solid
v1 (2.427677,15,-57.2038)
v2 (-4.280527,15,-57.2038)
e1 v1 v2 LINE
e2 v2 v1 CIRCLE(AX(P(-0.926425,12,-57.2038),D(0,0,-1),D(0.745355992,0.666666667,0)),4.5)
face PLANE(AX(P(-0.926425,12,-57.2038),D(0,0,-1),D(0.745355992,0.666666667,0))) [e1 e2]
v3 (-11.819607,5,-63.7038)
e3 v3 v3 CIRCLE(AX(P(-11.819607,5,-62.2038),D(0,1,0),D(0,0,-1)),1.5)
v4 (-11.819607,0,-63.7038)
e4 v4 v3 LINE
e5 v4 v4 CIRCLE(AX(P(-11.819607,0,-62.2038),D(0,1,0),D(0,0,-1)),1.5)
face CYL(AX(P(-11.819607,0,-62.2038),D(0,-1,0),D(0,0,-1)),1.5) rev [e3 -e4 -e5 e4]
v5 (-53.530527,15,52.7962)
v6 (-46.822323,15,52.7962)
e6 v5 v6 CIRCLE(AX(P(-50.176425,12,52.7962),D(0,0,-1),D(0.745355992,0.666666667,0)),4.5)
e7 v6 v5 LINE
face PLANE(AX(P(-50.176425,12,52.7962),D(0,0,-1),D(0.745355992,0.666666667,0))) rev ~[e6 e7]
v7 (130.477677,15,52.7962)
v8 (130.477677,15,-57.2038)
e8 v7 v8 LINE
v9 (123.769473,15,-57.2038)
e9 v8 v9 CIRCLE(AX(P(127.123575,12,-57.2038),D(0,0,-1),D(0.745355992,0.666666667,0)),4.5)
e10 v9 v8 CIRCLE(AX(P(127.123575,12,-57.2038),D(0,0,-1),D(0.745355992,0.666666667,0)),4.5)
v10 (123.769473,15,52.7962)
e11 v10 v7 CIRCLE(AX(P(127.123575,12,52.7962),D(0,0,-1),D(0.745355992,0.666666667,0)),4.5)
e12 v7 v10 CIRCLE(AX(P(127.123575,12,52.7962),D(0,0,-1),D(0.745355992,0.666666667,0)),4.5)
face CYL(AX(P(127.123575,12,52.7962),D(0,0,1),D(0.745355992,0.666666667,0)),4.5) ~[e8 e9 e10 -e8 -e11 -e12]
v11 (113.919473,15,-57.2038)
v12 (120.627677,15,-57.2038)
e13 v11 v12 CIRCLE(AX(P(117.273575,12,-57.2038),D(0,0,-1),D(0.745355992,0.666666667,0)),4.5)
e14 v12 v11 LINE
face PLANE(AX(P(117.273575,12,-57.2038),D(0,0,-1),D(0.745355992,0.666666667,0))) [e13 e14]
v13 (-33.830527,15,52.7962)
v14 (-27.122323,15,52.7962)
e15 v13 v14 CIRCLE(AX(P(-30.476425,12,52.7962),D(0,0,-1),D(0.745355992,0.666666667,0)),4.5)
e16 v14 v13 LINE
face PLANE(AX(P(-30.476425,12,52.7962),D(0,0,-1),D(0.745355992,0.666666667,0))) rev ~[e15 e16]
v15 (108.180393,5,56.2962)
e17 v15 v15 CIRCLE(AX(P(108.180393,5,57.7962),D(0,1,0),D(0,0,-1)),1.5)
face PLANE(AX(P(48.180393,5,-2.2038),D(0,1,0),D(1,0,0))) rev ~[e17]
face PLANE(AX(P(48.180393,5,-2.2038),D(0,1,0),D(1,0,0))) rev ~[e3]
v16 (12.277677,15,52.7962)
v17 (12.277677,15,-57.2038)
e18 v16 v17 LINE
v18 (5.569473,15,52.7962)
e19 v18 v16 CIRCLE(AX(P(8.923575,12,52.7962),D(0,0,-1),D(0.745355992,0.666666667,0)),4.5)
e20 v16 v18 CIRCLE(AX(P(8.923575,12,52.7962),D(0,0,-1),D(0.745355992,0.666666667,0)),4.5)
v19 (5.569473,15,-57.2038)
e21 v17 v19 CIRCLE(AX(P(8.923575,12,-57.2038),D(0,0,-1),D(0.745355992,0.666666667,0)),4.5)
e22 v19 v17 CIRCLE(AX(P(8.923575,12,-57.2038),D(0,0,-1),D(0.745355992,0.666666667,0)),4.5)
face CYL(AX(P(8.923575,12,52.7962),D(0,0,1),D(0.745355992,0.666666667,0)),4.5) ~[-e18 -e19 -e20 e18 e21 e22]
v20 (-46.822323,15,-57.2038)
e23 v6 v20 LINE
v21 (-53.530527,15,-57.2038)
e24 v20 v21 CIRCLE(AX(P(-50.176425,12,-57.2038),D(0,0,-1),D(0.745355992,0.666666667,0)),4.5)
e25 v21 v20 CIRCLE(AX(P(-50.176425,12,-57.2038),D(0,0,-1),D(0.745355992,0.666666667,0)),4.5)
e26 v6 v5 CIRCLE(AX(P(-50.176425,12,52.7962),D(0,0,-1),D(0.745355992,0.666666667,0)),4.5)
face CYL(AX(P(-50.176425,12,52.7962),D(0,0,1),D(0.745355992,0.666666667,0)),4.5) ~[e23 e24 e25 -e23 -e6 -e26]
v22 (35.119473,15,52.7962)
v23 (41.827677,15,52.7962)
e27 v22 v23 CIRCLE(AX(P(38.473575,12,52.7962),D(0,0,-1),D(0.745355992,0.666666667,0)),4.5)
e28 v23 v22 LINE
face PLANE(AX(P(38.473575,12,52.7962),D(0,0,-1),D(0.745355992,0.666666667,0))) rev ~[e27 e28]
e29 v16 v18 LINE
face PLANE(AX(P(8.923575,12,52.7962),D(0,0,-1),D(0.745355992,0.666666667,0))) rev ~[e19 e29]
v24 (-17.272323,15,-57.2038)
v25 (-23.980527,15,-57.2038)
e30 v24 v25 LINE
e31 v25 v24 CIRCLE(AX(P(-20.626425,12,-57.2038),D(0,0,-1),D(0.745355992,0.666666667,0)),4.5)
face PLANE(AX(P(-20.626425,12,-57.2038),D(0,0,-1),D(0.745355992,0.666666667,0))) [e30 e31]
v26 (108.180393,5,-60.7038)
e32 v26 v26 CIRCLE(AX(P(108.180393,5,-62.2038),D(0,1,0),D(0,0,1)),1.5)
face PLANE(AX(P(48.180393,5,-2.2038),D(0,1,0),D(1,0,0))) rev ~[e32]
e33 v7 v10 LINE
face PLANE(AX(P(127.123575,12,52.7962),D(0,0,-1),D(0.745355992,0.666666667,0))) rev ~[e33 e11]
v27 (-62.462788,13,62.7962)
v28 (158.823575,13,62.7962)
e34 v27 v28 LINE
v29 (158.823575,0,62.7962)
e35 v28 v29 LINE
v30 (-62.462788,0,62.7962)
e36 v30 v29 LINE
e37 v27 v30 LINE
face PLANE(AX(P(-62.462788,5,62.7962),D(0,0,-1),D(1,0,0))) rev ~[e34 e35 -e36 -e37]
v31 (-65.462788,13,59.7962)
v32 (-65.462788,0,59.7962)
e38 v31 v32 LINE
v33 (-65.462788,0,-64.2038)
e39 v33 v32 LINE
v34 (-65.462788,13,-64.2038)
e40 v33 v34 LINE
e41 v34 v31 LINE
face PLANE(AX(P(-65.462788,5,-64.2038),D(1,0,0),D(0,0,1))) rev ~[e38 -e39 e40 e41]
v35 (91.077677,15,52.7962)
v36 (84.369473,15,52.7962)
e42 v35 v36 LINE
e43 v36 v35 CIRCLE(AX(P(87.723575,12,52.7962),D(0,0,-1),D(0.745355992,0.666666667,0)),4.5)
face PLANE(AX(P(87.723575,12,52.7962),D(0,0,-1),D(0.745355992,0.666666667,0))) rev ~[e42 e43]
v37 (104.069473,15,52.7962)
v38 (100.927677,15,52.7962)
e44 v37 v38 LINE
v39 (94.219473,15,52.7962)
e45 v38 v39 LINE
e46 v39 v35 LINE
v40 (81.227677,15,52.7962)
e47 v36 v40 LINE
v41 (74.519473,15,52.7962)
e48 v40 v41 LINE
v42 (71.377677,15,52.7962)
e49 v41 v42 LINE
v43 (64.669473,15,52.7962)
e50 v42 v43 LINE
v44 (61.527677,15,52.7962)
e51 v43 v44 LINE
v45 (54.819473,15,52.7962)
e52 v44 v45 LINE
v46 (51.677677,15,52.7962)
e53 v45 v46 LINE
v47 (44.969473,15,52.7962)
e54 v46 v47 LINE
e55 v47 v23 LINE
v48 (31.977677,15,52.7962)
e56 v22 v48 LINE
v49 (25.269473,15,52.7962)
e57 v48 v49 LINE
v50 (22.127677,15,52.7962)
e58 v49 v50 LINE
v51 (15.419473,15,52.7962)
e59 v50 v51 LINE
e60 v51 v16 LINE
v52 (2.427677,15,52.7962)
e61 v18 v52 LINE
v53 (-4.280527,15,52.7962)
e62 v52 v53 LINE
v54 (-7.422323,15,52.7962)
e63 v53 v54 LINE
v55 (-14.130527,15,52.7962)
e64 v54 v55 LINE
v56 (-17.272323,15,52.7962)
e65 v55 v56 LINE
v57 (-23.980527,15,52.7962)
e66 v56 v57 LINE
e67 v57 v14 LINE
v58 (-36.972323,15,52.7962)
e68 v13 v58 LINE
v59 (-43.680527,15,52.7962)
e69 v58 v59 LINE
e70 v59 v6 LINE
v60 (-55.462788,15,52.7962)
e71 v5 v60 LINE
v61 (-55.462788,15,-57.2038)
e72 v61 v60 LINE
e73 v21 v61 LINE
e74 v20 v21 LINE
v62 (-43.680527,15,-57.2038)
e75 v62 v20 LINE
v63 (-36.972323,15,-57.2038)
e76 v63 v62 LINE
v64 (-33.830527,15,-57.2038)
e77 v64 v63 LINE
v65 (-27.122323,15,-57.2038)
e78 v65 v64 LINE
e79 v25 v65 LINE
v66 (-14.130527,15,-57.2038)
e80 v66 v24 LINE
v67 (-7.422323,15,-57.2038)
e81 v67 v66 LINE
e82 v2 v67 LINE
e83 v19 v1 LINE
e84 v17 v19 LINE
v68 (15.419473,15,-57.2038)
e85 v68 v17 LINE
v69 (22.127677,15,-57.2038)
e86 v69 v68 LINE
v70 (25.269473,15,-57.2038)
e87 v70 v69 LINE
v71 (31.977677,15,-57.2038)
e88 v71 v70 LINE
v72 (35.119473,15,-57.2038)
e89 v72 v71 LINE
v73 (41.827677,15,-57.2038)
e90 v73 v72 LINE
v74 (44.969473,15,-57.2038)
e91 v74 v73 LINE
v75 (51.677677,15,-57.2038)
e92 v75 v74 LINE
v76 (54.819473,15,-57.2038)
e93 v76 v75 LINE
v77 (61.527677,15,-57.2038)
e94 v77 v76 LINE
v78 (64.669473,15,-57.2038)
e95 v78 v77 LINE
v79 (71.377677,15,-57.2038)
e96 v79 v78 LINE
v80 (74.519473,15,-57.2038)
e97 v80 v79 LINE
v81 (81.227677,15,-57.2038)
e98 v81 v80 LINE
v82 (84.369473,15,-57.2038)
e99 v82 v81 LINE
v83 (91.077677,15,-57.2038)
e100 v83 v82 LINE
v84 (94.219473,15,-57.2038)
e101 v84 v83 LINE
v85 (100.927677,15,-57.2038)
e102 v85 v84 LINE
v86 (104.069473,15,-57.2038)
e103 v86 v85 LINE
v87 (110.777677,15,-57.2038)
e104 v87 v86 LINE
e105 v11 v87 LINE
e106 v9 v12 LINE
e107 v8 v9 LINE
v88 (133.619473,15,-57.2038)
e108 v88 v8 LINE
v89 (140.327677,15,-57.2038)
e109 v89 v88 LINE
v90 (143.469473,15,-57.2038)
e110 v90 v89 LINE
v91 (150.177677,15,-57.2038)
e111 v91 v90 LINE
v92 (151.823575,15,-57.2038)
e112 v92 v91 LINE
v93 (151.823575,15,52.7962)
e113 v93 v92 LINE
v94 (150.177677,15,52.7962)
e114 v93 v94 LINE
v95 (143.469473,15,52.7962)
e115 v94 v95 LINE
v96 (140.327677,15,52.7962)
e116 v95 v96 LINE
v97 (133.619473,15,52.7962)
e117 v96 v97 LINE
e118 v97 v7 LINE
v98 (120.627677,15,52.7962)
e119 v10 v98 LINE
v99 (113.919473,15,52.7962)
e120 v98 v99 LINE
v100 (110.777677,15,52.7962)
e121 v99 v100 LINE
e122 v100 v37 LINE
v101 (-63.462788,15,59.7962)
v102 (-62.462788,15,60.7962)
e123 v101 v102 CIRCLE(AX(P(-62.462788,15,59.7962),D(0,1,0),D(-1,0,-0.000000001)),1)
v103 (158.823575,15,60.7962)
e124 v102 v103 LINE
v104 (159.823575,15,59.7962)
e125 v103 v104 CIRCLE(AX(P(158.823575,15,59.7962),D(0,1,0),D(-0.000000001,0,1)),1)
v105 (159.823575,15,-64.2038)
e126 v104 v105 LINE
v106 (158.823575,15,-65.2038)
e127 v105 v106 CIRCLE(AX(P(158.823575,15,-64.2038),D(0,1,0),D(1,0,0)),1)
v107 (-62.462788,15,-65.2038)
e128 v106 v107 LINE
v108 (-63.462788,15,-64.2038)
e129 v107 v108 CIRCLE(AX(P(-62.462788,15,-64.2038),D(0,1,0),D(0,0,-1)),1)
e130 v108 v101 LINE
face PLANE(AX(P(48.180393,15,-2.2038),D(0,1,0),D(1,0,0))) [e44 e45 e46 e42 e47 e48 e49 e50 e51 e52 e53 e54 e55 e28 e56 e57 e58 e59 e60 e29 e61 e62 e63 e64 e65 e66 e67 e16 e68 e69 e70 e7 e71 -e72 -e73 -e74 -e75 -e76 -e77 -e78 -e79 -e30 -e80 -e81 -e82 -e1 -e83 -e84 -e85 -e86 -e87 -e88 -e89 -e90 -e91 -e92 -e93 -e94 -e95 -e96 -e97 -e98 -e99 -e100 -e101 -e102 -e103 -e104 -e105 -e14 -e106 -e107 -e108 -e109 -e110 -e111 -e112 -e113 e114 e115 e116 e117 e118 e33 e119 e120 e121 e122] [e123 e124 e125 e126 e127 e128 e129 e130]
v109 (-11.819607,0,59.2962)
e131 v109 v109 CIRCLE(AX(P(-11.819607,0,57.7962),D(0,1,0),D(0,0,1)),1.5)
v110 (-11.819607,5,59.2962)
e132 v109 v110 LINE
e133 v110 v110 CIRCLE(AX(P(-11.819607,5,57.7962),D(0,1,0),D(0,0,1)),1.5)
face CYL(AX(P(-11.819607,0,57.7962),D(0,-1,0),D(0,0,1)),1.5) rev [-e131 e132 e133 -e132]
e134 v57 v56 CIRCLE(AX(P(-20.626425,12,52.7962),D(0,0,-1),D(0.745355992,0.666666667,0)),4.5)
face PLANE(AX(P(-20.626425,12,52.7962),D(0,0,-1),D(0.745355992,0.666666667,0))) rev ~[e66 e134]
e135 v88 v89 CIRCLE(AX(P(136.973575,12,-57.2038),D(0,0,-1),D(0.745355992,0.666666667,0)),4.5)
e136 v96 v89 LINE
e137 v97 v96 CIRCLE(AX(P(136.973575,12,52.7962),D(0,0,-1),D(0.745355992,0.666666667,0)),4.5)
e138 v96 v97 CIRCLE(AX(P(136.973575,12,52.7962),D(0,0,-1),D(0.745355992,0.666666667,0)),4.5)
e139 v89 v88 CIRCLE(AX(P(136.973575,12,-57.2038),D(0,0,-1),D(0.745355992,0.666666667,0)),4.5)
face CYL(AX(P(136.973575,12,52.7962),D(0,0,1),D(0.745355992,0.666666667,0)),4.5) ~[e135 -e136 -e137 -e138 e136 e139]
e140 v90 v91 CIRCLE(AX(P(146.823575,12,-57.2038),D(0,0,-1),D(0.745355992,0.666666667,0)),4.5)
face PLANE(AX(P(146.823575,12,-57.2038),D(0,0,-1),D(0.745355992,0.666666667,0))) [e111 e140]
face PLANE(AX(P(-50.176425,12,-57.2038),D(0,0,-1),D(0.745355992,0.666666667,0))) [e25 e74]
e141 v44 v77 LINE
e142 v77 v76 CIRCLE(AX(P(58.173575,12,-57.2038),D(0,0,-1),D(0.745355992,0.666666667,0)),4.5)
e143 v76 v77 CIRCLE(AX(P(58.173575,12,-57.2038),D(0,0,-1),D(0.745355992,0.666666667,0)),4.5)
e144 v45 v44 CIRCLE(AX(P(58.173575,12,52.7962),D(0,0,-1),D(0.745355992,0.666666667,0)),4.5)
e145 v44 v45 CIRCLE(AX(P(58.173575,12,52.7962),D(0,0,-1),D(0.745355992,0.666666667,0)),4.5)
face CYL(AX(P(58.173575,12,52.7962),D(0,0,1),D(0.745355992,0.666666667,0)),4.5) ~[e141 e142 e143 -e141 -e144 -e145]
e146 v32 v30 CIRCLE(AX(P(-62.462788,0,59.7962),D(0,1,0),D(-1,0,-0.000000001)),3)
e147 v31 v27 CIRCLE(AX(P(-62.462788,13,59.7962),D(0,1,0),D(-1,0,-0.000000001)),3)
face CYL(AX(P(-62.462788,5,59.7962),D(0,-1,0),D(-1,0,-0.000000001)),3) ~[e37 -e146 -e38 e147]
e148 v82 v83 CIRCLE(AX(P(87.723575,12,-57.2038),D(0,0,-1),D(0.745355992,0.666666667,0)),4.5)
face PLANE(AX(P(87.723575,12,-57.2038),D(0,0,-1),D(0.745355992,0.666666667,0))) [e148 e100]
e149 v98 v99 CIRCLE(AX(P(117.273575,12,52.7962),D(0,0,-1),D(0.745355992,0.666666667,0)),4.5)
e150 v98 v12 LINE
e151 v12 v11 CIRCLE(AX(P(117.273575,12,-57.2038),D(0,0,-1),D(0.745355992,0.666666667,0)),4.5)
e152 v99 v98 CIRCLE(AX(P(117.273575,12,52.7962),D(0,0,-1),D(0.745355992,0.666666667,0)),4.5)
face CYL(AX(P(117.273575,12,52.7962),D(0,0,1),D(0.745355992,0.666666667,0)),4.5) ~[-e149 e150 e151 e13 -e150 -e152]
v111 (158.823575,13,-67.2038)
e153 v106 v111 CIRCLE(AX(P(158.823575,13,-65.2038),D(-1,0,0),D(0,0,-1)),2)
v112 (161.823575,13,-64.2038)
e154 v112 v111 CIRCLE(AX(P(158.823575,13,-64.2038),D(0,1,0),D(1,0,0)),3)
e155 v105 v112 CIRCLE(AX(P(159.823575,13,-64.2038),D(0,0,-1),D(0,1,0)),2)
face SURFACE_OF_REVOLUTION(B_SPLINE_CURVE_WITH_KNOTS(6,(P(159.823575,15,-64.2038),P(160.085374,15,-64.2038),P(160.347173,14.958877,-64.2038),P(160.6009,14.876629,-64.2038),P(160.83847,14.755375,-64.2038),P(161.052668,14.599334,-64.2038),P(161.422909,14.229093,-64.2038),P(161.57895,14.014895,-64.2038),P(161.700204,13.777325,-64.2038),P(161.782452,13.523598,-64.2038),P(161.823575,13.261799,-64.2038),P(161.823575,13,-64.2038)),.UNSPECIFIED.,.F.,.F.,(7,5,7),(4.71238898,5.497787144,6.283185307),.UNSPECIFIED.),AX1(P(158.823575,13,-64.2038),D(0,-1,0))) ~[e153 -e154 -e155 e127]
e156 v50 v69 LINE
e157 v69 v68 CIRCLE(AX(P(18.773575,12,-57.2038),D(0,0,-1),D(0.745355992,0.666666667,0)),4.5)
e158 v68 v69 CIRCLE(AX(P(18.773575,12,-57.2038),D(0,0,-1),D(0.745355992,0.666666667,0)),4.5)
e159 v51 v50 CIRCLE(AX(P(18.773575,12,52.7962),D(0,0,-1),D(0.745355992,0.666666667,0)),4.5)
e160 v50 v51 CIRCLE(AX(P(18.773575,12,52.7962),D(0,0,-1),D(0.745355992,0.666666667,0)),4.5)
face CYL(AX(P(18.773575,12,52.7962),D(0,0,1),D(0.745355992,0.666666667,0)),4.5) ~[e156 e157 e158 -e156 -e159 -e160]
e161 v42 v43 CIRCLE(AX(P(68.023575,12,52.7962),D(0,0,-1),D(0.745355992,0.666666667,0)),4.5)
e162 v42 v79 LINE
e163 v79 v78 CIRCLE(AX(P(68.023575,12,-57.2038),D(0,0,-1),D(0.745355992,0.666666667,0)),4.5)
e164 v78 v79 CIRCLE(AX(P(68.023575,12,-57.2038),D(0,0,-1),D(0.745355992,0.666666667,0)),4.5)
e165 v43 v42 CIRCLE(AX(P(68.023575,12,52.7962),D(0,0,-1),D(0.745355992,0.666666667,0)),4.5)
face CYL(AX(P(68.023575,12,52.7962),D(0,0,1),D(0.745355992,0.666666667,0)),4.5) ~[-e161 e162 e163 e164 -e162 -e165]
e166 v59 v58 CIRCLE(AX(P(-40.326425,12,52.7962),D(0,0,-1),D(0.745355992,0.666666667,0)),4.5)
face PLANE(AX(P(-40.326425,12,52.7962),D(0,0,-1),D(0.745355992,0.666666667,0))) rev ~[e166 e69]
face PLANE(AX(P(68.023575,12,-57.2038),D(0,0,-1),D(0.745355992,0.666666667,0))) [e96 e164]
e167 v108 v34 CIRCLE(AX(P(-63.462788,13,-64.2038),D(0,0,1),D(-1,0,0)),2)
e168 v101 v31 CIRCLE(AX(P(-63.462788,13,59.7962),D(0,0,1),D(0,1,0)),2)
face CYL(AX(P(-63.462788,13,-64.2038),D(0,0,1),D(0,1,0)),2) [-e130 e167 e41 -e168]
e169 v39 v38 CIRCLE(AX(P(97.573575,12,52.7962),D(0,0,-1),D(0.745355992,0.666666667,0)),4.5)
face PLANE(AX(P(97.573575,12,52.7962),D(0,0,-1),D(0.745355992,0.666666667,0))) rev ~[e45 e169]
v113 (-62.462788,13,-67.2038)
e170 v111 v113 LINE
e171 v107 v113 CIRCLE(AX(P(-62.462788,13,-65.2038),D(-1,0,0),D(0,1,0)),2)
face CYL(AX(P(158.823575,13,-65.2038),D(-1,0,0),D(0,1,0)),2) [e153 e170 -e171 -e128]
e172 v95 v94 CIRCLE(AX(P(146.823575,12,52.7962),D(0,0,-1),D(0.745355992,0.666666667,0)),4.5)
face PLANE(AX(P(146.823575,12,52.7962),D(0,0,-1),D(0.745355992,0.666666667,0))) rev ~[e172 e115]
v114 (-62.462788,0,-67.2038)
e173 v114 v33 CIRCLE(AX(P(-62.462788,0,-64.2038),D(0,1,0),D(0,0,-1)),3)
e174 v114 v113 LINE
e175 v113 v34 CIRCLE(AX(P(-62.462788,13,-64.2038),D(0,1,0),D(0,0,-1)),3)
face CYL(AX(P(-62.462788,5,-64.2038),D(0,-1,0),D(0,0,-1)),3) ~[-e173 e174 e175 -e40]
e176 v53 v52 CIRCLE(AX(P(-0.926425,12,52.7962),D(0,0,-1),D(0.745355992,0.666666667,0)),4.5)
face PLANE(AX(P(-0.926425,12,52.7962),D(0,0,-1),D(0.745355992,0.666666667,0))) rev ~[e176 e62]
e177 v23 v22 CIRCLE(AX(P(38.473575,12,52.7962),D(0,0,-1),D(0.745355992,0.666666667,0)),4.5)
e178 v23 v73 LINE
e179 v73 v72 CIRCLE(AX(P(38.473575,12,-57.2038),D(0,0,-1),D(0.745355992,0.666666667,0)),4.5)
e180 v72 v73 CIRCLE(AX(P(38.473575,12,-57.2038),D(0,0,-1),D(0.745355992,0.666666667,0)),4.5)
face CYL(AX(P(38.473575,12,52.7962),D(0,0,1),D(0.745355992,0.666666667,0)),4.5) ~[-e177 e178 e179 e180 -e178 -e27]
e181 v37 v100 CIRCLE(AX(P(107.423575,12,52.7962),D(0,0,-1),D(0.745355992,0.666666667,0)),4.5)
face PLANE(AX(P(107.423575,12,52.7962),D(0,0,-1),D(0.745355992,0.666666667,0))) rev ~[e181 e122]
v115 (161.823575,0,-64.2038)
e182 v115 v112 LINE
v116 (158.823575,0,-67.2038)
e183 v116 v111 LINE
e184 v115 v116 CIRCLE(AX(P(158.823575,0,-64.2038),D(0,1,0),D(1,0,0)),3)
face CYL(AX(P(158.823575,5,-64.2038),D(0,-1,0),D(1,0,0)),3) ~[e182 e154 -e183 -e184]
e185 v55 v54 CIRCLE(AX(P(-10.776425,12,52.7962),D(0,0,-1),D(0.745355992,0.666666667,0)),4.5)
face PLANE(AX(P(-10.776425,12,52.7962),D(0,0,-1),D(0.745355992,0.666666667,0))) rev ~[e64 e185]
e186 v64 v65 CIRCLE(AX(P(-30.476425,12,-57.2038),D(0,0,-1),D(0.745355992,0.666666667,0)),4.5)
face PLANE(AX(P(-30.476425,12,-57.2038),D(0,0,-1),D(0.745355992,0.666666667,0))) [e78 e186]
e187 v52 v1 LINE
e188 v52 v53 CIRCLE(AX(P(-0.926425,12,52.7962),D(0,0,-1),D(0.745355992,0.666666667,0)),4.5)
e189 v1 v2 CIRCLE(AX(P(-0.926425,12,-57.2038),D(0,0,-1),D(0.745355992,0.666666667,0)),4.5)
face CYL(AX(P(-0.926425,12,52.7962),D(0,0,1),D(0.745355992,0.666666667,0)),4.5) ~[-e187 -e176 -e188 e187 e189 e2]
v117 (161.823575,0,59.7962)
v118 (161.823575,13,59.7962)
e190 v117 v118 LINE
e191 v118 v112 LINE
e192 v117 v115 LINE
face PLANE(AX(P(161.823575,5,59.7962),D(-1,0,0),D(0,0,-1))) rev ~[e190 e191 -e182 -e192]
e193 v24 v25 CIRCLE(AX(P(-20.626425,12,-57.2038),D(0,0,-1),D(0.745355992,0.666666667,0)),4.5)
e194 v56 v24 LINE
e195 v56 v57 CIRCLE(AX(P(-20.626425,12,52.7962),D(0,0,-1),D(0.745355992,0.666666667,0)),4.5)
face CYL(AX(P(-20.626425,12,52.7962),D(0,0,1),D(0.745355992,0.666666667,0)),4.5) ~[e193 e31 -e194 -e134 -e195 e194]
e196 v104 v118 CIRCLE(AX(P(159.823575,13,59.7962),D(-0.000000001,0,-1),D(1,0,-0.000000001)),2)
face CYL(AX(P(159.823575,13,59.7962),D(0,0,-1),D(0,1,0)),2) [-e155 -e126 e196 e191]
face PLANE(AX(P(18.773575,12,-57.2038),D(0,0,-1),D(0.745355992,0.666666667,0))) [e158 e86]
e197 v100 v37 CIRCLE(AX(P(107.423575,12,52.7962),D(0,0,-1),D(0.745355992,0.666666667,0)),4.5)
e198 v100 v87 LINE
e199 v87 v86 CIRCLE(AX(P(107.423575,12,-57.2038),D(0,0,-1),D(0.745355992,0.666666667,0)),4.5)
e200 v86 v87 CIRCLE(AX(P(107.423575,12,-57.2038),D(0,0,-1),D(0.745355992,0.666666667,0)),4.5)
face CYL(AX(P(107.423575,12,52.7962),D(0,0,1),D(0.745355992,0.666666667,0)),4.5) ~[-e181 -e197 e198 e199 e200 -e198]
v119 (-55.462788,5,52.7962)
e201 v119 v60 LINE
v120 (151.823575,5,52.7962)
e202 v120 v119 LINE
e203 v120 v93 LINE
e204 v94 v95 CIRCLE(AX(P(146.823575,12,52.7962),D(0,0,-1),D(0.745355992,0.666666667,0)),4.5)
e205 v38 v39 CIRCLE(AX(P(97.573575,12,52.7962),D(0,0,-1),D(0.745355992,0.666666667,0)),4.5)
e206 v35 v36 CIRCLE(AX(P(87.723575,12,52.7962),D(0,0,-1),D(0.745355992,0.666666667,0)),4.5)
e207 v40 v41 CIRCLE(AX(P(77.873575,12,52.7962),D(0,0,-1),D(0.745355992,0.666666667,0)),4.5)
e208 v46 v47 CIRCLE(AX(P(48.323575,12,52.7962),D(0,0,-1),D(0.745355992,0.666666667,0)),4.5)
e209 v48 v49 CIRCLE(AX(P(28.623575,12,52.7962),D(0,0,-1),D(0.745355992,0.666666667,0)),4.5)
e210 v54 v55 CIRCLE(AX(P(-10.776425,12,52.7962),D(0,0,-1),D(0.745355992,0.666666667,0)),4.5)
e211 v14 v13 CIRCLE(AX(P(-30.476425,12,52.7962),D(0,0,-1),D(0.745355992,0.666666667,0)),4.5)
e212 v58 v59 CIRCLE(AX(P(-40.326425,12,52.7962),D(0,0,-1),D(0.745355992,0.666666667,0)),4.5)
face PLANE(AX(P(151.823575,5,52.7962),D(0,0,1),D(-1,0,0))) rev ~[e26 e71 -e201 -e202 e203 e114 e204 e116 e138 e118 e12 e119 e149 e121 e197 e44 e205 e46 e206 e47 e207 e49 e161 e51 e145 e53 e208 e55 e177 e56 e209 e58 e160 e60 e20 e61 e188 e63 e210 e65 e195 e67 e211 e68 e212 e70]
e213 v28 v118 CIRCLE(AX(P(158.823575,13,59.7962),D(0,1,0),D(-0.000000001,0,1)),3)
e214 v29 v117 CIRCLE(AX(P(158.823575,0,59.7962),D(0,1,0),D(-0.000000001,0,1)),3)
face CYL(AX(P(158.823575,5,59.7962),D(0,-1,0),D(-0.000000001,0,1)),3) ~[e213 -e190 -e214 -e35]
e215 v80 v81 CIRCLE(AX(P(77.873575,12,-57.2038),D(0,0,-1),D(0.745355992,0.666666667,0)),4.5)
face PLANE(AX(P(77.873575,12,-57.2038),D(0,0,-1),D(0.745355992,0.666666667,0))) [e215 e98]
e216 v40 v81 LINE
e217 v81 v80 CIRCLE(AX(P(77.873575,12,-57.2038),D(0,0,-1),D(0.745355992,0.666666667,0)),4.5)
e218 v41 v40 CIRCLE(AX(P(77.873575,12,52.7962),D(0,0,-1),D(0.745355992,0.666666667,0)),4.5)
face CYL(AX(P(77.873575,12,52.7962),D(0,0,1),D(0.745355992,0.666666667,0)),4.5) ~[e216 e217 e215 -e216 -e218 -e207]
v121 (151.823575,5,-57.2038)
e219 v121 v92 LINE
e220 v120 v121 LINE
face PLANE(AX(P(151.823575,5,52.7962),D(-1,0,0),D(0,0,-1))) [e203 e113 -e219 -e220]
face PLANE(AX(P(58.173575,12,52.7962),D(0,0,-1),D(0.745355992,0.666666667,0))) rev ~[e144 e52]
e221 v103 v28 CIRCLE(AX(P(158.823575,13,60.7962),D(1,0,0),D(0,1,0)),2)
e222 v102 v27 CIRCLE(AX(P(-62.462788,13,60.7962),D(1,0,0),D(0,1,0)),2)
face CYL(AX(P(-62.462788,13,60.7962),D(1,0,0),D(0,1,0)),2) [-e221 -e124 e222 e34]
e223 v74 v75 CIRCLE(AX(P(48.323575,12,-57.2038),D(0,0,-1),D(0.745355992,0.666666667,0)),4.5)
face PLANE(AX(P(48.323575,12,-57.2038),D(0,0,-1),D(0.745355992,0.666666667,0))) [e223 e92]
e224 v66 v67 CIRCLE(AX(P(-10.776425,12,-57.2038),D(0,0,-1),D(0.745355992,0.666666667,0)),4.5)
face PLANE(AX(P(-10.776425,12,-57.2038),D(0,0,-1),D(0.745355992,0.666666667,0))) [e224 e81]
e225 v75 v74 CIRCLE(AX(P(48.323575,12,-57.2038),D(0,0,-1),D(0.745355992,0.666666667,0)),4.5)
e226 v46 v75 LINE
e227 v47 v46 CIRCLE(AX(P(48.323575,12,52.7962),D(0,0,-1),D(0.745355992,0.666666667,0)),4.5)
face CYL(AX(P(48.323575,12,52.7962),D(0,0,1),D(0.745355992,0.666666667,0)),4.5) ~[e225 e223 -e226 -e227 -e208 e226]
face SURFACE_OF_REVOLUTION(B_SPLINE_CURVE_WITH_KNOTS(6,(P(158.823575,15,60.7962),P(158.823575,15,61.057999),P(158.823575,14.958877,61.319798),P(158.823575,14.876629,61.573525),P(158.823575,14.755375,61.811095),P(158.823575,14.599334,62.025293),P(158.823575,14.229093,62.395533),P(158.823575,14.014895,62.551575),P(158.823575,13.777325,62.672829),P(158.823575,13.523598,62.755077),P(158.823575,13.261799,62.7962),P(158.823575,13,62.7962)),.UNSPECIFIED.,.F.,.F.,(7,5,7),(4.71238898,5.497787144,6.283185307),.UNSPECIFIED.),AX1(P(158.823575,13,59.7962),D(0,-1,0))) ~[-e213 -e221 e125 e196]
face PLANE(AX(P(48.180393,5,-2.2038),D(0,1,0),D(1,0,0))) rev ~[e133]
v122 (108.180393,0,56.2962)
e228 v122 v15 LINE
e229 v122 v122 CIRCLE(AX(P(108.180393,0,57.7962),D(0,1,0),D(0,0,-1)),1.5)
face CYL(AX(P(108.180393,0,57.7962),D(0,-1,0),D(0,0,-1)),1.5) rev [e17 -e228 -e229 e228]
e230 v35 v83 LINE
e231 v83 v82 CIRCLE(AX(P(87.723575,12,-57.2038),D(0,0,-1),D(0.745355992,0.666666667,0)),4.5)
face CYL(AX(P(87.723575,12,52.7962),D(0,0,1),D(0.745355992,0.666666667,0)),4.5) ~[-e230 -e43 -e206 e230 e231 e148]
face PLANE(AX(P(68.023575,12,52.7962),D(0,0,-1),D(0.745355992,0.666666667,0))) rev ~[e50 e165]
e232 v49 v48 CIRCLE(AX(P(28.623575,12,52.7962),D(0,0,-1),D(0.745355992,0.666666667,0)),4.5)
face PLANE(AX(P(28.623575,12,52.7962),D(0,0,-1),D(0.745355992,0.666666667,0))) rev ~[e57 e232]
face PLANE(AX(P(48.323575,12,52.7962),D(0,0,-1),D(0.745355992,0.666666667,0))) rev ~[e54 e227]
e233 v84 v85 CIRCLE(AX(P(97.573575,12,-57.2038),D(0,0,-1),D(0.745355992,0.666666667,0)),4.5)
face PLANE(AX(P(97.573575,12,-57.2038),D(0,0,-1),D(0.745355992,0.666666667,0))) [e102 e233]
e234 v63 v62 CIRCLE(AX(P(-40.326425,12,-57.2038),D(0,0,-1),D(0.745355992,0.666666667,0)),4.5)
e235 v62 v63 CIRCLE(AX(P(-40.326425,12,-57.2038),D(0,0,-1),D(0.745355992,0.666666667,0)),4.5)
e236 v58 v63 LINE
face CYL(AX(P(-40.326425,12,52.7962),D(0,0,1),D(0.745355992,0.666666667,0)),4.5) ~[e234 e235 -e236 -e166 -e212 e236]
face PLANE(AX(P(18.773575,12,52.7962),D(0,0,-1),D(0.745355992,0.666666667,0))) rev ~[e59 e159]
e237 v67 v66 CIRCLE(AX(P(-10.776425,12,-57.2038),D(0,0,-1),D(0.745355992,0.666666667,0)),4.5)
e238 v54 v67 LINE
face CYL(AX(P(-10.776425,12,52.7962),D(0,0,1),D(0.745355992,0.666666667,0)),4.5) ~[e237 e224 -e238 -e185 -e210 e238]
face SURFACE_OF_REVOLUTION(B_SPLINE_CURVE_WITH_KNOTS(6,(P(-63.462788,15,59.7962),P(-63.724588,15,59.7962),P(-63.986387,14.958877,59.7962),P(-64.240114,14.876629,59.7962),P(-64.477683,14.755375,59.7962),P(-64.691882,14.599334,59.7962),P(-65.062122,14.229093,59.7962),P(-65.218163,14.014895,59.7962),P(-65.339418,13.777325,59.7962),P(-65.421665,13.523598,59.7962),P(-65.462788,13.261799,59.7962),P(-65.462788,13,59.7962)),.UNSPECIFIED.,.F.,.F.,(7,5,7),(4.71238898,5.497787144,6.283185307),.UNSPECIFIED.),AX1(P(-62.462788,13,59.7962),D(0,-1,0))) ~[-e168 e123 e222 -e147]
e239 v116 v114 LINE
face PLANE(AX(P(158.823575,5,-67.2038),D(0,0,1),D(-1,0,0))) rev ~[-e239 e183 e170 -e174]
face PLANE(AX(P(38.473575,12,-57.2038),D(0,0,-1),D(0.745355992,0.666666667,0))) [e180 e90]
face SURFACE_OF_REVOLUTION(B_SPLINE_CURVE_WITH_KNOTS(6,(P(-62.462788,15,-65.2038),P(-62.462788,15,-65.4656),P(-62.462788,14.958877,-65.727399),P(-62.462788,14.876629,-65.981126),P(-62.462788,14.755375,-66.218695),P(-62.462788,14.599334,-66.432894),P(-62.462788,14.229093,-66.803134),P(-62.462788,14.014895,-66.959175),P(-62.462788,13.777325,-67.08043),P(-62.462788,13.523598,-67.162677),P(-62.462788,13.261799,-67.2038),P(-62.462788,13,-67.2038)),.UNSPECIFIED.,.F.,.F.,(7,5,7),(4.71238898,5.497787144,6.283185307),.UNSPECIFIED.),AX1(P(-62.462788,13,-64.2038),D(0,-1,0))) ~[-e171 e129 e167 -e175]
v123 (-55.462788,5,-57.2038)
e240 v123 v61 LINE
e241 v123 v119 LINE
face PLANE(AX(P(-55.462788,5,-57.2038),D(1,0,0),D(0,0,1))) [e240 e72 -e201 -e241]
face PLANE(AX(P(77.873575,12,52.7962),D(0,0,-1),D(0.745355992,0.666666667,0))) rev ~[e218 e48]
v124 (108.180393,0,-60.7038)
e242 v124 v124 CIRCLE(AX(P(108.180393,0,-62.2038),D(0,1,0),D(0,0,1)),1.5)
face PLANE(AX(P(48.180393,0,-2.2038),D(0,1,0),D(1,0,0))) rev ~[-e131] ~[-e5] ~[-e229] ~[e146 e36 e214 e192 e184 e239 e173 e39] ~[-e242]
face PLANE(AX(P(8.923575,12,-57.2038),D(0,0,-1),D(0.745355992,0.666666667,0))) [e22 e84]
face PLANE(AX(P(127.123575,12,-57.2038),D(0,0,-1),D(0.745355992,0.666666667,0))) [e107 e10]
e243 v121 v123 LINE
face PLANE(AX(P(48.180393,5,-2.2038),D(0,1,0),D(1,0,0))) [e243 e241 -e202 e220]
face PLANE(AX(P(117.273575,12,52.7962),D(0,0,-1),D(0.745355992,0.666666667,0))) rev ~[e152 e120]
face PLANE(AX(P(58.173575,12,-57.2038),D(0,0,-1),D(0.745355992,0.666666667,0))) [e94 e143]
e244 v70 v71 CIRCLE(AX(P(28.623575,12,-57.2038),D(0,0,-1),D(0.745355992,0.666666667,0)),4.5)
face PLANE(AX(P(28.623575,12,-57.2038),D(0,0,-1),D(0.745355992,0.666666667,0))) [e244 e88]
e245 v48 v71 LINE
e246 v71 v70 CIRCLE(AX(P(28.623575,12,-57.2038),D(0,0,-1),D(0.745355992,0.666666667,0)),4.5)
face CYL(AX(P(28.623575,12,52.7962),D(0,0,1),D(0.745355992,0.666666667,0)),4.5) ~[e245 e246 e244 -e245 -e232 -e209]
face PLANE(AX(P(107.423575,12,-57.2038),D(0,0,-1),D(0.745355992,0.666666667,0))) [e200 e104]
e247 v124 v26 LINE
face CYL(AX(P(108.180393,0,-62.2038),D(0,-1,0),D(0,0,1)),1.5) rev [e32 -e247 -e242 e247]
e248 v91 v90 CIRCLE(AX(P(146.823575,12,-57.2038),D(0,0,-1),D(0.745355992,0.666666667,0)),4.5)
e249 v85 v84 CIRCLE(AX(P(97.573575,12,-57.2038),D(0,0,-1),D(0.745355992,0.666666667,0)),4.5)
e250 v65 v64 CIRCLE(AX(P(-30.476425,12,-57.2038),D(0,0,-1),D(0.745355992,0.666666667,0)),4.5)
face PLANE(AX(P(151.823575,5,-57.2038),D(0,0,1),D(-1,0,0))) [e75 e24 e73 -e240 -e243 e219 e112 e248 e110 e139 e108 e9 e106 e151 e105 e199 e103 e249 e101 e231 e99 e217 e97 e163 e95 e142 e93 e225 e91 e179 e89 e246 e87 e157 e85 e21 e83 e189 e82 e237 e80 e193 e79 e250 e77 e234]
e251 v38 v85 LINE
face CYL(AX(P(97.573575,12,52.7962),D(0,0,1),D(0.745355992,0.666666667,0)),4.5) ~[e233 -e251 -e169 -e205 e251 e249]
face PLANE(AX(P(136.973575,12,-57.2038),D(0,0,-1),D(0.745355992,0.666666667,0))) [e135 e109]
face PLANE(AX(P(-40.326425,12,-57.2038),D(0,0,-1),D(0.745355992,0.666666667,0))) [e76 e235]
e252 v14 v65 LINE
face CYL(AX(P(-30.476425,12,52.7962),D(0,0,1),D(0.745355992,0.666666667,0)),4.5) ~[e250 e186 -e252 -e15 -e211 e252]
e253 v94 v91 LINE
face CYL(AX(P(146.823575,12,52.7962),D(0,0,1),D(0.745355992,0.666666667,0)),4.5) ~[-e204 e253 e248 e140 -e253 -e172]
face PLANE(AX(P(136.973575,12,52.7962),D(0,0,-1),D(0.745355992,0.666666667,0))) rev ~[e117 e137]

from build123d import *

# Parameters (mm, degrees)
SKETCH_1_R      = 1.5
EXTRUDE_1_DEPTH = 5
EXTRUDE_2_DEPTH = 10
FILLET_1_R      = 2
SKETCH_4_R      = 4.5
EXTRUDE_4_DEPTH = 110


with BuildPart() as part:
    # 草图1 → 凸台-拉伸1 (new body)
    with BuildSketch(Plane(origin=(0, 0, 0), x_dir=(1, 0, 0), z_dir=(0, 1, 0))):
        with BuildLine():
            Line((-65.462788351, 64.203800201), (-65.462788351, -59.796199799))
            ThreePointArc((-65.462788351, -59.796199799), (-64.584108695, -61.917520143), (-62.462788351, -62.796199799))
            Line((-62.462788351, -62.796199799), (158.823574937, -62.796199799))
            ThreePointArc((158.823574937, -62.796199799), (160.944895281, -61.917520143), (161.823574937, -59.796199799))
            Line((161.823574937, -59.796199799), (161.823574937, 64.203800201))
            ThreePointArc((161.823574937, 64.203800201), (160.944895281, 66.325120544), (158.823574937, 67.203800201))
            Line((158.823574937, 67.203800201), (-62.462788351, 67.203800201))
            ThreePointArc((-62.462788351, 67.203800201), (-64.584108695, 66.325120544), (-65.462788351, 64.203800201))
        make_face()
        with Locations(Location((-11.819606707, -57.796199799, 0), (0, 0, 270))):
            Circle(SKETCH_1_R, mode=Mode.SUBTRACT)
        with Locations(Location((108.180393293, -57.796199799, 0), (0, 0, 90))):
            Circle(SKETCH_1_R, mode=Mode.SUBTRACT)
        with Locations(Location((108.180393293, 62.203800201, 0), (0, 0, 270))):
            Circle(SKETCH_1_R, mode=Mode.SUBTRACT)
        with Locations(Location((-11.819606707, 62.203800201, 0), (0, 0, 90))):
            Circle(SKETCH_1_R, mode=Mode.SUBTRACT)
    extrude(amount=EXTRUDE_1_DEPTH)

    # 草图2 → 凸台-拉伸2 (add)
    with BuildSketch(Plane(origin=(0, 5, 0), x_dir=(1, 0, 0), z_dir=(0, 1, 0))):
        with BuildLine():
            Line((48.180393293, -62.796199799), (158.823574937, -62.796199799))
            ThreePointArc((158.823574937, -62.796199799), (160.944895281, -61.917520143), (161.823574937, -59.796199799))
            Line((161.823574937, -59.796199799), (161.823574937, 64.203800201))
            ThreePointArc((161.823574937, 64.203800201), (160.944895281, 66.325120544), (158.823574937, 67.203800201))
            Line((158.823574937, 67.203800201), (-62.462788351, 67.203800201))
            ThreePointArc((-62.462788351, 67.203800201), (-64.584108695, 66.325120544), (-65.462788351, 64.203800201))
            Line((-65.462788351, 64.203800201), (-65.462788351, -59.796199799))
            ThreePointArc((-65.462788351, -59.796199799), (-64.584108695, -61.917520143), (-62.462788351, -62.796199799))
            Line((-62.462788351, -62.796199799), (48.180393293, -62.796199799))
        make_face()
        Polygon((48.180393293, -52.796199799), (151.823574937, -52.796199799), (151.823574937, 57.203800201), (-55.462788351, 57.203800201), (-55.462788351, -52.796199799), align=None, mode=Mode.SUBTRACT)
    extrude(amount=EXTRUDE_2_DEPTH)

    # 圆角1
    fillet_1_edges = [part.edges().sort_by_distance(p)[0] for p in [
        (48.180393293, 15, 62.796199799),
        (160.944895281, 15, 61.917520143),
        (161.823574937, 15, -2.203800201),
        (160.944895281, 15, -66.325120544),
        (48.180393293, 15, -67.203800201),
        (-64.584108695, 15, -66.325120544),
        (-65.462788351, 15, -2.203800201),
        (-64.584108695, 15, 61.917520143),
    ]]
    fillet(fillet_1_edges, radius=FILLET_1_R)

    # 草图4 → 凸台-拉伸4 (add)
    with BuildSketch(Plane(origin=(0, 0, 52.796199799), x_dir=(-1, 0, 0), z_dir=(0, 0, -1))):
        with Locations(Location((-146.823574937, 12, 0), (0, 0, 138.189685104))):
            Circle(SKETCH_4_R)
        with Locations(Location((-136.973574937, 12, 0), (0, 0, 138.189685104))):
            Circle(SKETCH_4_R)
        with Locations(Location((-127.123574937, 12, 0), (0, 0, 138.189685104))):
            Circle(SKETCH_4_R)
        with Locations(Location((-117.273574937, 12, 0), (0, 0, 138.189685104))):
            Circle(SKETCH_4_R)
        with Locations(Location((-107.423574937, 12, 0), (0, 0, 138.189685104))):
            Circle(SKETCH_4_R)
        with Locations(Location((-97.573574937, 12, 0), (0, 0, 138.189685104))):
            Circle(SKETCH_4_R)
        with Locations(Location((-87.723574937, 12, 0), (0, 0, 138.189685104))):
            Circle(SKETCH_4_R)
        with Locations(Location((-77.873574937, 12, 0), (0, 0, 138.189685104))):
            Circle(SKETCH_4_R)
        with Locations(Location((-68.023574937, 12, 0), (0, 0, 138.189685104))):
            Circle(SKETCH_4_R)
        with Locations(Location((-58.173574937, 12, 0), (0, 0, 138.189685104))):
            Circle(SKETCH_4_R)
        with Locations(Location((-48.323574937, 12, 0), (0, 0, 138.189685104))):
            Circle(SKETCH_4_R)
        with Locations(Location((-38.473574937, 12, 0), (0, 0, 138.189685104))):
            Circle(SKETCH_4_R)
        with Locations(Location((-28.623574937, 12, 0), (0, 0, 138.189685104))):
            Circle(SKETCH_4_R)
        with Locations(Location((-18.773574937, 12, 0), (0, 0, 138.189685104))):
            Circle(SKETCH_4_R)
        with Locations(Location((-8.923574937, 12, 0), (0, 0, 138.189685104))):
            Circle(SKETCH_4_R)
        with Locations(Location((0.926425063, 12, 0), (0, 0, 138.189685104))):
            Circle(SKETCH_4_R)
        with Locations(Location((10.776425063, 12, 0), (0, 0, 138.189685104))):
            Circle(SKETCH_4_R)
        with Locations(Location((20.626425063, 12, 0), (0, 0, 138.189685104))):
            Circle(SKETCH_4_R)
        with Locations(Location((30.476425063, 12, 0), (0, 0, 138.189685104))):
            Circle(SKETCH_4_R)
        with Locations(Location((40.326425063, 12, 0), (0, 0, 138.189685104))):
            Circle(SKETCH_4_R)
        with Locations(Location((50.176425063, 12, 0), (0, 0, 138.189685104))):
            Circle(SKETCH_4_R)
    extrude(amount=EXTRUDE_4_DEPTH)


solid = part.part
